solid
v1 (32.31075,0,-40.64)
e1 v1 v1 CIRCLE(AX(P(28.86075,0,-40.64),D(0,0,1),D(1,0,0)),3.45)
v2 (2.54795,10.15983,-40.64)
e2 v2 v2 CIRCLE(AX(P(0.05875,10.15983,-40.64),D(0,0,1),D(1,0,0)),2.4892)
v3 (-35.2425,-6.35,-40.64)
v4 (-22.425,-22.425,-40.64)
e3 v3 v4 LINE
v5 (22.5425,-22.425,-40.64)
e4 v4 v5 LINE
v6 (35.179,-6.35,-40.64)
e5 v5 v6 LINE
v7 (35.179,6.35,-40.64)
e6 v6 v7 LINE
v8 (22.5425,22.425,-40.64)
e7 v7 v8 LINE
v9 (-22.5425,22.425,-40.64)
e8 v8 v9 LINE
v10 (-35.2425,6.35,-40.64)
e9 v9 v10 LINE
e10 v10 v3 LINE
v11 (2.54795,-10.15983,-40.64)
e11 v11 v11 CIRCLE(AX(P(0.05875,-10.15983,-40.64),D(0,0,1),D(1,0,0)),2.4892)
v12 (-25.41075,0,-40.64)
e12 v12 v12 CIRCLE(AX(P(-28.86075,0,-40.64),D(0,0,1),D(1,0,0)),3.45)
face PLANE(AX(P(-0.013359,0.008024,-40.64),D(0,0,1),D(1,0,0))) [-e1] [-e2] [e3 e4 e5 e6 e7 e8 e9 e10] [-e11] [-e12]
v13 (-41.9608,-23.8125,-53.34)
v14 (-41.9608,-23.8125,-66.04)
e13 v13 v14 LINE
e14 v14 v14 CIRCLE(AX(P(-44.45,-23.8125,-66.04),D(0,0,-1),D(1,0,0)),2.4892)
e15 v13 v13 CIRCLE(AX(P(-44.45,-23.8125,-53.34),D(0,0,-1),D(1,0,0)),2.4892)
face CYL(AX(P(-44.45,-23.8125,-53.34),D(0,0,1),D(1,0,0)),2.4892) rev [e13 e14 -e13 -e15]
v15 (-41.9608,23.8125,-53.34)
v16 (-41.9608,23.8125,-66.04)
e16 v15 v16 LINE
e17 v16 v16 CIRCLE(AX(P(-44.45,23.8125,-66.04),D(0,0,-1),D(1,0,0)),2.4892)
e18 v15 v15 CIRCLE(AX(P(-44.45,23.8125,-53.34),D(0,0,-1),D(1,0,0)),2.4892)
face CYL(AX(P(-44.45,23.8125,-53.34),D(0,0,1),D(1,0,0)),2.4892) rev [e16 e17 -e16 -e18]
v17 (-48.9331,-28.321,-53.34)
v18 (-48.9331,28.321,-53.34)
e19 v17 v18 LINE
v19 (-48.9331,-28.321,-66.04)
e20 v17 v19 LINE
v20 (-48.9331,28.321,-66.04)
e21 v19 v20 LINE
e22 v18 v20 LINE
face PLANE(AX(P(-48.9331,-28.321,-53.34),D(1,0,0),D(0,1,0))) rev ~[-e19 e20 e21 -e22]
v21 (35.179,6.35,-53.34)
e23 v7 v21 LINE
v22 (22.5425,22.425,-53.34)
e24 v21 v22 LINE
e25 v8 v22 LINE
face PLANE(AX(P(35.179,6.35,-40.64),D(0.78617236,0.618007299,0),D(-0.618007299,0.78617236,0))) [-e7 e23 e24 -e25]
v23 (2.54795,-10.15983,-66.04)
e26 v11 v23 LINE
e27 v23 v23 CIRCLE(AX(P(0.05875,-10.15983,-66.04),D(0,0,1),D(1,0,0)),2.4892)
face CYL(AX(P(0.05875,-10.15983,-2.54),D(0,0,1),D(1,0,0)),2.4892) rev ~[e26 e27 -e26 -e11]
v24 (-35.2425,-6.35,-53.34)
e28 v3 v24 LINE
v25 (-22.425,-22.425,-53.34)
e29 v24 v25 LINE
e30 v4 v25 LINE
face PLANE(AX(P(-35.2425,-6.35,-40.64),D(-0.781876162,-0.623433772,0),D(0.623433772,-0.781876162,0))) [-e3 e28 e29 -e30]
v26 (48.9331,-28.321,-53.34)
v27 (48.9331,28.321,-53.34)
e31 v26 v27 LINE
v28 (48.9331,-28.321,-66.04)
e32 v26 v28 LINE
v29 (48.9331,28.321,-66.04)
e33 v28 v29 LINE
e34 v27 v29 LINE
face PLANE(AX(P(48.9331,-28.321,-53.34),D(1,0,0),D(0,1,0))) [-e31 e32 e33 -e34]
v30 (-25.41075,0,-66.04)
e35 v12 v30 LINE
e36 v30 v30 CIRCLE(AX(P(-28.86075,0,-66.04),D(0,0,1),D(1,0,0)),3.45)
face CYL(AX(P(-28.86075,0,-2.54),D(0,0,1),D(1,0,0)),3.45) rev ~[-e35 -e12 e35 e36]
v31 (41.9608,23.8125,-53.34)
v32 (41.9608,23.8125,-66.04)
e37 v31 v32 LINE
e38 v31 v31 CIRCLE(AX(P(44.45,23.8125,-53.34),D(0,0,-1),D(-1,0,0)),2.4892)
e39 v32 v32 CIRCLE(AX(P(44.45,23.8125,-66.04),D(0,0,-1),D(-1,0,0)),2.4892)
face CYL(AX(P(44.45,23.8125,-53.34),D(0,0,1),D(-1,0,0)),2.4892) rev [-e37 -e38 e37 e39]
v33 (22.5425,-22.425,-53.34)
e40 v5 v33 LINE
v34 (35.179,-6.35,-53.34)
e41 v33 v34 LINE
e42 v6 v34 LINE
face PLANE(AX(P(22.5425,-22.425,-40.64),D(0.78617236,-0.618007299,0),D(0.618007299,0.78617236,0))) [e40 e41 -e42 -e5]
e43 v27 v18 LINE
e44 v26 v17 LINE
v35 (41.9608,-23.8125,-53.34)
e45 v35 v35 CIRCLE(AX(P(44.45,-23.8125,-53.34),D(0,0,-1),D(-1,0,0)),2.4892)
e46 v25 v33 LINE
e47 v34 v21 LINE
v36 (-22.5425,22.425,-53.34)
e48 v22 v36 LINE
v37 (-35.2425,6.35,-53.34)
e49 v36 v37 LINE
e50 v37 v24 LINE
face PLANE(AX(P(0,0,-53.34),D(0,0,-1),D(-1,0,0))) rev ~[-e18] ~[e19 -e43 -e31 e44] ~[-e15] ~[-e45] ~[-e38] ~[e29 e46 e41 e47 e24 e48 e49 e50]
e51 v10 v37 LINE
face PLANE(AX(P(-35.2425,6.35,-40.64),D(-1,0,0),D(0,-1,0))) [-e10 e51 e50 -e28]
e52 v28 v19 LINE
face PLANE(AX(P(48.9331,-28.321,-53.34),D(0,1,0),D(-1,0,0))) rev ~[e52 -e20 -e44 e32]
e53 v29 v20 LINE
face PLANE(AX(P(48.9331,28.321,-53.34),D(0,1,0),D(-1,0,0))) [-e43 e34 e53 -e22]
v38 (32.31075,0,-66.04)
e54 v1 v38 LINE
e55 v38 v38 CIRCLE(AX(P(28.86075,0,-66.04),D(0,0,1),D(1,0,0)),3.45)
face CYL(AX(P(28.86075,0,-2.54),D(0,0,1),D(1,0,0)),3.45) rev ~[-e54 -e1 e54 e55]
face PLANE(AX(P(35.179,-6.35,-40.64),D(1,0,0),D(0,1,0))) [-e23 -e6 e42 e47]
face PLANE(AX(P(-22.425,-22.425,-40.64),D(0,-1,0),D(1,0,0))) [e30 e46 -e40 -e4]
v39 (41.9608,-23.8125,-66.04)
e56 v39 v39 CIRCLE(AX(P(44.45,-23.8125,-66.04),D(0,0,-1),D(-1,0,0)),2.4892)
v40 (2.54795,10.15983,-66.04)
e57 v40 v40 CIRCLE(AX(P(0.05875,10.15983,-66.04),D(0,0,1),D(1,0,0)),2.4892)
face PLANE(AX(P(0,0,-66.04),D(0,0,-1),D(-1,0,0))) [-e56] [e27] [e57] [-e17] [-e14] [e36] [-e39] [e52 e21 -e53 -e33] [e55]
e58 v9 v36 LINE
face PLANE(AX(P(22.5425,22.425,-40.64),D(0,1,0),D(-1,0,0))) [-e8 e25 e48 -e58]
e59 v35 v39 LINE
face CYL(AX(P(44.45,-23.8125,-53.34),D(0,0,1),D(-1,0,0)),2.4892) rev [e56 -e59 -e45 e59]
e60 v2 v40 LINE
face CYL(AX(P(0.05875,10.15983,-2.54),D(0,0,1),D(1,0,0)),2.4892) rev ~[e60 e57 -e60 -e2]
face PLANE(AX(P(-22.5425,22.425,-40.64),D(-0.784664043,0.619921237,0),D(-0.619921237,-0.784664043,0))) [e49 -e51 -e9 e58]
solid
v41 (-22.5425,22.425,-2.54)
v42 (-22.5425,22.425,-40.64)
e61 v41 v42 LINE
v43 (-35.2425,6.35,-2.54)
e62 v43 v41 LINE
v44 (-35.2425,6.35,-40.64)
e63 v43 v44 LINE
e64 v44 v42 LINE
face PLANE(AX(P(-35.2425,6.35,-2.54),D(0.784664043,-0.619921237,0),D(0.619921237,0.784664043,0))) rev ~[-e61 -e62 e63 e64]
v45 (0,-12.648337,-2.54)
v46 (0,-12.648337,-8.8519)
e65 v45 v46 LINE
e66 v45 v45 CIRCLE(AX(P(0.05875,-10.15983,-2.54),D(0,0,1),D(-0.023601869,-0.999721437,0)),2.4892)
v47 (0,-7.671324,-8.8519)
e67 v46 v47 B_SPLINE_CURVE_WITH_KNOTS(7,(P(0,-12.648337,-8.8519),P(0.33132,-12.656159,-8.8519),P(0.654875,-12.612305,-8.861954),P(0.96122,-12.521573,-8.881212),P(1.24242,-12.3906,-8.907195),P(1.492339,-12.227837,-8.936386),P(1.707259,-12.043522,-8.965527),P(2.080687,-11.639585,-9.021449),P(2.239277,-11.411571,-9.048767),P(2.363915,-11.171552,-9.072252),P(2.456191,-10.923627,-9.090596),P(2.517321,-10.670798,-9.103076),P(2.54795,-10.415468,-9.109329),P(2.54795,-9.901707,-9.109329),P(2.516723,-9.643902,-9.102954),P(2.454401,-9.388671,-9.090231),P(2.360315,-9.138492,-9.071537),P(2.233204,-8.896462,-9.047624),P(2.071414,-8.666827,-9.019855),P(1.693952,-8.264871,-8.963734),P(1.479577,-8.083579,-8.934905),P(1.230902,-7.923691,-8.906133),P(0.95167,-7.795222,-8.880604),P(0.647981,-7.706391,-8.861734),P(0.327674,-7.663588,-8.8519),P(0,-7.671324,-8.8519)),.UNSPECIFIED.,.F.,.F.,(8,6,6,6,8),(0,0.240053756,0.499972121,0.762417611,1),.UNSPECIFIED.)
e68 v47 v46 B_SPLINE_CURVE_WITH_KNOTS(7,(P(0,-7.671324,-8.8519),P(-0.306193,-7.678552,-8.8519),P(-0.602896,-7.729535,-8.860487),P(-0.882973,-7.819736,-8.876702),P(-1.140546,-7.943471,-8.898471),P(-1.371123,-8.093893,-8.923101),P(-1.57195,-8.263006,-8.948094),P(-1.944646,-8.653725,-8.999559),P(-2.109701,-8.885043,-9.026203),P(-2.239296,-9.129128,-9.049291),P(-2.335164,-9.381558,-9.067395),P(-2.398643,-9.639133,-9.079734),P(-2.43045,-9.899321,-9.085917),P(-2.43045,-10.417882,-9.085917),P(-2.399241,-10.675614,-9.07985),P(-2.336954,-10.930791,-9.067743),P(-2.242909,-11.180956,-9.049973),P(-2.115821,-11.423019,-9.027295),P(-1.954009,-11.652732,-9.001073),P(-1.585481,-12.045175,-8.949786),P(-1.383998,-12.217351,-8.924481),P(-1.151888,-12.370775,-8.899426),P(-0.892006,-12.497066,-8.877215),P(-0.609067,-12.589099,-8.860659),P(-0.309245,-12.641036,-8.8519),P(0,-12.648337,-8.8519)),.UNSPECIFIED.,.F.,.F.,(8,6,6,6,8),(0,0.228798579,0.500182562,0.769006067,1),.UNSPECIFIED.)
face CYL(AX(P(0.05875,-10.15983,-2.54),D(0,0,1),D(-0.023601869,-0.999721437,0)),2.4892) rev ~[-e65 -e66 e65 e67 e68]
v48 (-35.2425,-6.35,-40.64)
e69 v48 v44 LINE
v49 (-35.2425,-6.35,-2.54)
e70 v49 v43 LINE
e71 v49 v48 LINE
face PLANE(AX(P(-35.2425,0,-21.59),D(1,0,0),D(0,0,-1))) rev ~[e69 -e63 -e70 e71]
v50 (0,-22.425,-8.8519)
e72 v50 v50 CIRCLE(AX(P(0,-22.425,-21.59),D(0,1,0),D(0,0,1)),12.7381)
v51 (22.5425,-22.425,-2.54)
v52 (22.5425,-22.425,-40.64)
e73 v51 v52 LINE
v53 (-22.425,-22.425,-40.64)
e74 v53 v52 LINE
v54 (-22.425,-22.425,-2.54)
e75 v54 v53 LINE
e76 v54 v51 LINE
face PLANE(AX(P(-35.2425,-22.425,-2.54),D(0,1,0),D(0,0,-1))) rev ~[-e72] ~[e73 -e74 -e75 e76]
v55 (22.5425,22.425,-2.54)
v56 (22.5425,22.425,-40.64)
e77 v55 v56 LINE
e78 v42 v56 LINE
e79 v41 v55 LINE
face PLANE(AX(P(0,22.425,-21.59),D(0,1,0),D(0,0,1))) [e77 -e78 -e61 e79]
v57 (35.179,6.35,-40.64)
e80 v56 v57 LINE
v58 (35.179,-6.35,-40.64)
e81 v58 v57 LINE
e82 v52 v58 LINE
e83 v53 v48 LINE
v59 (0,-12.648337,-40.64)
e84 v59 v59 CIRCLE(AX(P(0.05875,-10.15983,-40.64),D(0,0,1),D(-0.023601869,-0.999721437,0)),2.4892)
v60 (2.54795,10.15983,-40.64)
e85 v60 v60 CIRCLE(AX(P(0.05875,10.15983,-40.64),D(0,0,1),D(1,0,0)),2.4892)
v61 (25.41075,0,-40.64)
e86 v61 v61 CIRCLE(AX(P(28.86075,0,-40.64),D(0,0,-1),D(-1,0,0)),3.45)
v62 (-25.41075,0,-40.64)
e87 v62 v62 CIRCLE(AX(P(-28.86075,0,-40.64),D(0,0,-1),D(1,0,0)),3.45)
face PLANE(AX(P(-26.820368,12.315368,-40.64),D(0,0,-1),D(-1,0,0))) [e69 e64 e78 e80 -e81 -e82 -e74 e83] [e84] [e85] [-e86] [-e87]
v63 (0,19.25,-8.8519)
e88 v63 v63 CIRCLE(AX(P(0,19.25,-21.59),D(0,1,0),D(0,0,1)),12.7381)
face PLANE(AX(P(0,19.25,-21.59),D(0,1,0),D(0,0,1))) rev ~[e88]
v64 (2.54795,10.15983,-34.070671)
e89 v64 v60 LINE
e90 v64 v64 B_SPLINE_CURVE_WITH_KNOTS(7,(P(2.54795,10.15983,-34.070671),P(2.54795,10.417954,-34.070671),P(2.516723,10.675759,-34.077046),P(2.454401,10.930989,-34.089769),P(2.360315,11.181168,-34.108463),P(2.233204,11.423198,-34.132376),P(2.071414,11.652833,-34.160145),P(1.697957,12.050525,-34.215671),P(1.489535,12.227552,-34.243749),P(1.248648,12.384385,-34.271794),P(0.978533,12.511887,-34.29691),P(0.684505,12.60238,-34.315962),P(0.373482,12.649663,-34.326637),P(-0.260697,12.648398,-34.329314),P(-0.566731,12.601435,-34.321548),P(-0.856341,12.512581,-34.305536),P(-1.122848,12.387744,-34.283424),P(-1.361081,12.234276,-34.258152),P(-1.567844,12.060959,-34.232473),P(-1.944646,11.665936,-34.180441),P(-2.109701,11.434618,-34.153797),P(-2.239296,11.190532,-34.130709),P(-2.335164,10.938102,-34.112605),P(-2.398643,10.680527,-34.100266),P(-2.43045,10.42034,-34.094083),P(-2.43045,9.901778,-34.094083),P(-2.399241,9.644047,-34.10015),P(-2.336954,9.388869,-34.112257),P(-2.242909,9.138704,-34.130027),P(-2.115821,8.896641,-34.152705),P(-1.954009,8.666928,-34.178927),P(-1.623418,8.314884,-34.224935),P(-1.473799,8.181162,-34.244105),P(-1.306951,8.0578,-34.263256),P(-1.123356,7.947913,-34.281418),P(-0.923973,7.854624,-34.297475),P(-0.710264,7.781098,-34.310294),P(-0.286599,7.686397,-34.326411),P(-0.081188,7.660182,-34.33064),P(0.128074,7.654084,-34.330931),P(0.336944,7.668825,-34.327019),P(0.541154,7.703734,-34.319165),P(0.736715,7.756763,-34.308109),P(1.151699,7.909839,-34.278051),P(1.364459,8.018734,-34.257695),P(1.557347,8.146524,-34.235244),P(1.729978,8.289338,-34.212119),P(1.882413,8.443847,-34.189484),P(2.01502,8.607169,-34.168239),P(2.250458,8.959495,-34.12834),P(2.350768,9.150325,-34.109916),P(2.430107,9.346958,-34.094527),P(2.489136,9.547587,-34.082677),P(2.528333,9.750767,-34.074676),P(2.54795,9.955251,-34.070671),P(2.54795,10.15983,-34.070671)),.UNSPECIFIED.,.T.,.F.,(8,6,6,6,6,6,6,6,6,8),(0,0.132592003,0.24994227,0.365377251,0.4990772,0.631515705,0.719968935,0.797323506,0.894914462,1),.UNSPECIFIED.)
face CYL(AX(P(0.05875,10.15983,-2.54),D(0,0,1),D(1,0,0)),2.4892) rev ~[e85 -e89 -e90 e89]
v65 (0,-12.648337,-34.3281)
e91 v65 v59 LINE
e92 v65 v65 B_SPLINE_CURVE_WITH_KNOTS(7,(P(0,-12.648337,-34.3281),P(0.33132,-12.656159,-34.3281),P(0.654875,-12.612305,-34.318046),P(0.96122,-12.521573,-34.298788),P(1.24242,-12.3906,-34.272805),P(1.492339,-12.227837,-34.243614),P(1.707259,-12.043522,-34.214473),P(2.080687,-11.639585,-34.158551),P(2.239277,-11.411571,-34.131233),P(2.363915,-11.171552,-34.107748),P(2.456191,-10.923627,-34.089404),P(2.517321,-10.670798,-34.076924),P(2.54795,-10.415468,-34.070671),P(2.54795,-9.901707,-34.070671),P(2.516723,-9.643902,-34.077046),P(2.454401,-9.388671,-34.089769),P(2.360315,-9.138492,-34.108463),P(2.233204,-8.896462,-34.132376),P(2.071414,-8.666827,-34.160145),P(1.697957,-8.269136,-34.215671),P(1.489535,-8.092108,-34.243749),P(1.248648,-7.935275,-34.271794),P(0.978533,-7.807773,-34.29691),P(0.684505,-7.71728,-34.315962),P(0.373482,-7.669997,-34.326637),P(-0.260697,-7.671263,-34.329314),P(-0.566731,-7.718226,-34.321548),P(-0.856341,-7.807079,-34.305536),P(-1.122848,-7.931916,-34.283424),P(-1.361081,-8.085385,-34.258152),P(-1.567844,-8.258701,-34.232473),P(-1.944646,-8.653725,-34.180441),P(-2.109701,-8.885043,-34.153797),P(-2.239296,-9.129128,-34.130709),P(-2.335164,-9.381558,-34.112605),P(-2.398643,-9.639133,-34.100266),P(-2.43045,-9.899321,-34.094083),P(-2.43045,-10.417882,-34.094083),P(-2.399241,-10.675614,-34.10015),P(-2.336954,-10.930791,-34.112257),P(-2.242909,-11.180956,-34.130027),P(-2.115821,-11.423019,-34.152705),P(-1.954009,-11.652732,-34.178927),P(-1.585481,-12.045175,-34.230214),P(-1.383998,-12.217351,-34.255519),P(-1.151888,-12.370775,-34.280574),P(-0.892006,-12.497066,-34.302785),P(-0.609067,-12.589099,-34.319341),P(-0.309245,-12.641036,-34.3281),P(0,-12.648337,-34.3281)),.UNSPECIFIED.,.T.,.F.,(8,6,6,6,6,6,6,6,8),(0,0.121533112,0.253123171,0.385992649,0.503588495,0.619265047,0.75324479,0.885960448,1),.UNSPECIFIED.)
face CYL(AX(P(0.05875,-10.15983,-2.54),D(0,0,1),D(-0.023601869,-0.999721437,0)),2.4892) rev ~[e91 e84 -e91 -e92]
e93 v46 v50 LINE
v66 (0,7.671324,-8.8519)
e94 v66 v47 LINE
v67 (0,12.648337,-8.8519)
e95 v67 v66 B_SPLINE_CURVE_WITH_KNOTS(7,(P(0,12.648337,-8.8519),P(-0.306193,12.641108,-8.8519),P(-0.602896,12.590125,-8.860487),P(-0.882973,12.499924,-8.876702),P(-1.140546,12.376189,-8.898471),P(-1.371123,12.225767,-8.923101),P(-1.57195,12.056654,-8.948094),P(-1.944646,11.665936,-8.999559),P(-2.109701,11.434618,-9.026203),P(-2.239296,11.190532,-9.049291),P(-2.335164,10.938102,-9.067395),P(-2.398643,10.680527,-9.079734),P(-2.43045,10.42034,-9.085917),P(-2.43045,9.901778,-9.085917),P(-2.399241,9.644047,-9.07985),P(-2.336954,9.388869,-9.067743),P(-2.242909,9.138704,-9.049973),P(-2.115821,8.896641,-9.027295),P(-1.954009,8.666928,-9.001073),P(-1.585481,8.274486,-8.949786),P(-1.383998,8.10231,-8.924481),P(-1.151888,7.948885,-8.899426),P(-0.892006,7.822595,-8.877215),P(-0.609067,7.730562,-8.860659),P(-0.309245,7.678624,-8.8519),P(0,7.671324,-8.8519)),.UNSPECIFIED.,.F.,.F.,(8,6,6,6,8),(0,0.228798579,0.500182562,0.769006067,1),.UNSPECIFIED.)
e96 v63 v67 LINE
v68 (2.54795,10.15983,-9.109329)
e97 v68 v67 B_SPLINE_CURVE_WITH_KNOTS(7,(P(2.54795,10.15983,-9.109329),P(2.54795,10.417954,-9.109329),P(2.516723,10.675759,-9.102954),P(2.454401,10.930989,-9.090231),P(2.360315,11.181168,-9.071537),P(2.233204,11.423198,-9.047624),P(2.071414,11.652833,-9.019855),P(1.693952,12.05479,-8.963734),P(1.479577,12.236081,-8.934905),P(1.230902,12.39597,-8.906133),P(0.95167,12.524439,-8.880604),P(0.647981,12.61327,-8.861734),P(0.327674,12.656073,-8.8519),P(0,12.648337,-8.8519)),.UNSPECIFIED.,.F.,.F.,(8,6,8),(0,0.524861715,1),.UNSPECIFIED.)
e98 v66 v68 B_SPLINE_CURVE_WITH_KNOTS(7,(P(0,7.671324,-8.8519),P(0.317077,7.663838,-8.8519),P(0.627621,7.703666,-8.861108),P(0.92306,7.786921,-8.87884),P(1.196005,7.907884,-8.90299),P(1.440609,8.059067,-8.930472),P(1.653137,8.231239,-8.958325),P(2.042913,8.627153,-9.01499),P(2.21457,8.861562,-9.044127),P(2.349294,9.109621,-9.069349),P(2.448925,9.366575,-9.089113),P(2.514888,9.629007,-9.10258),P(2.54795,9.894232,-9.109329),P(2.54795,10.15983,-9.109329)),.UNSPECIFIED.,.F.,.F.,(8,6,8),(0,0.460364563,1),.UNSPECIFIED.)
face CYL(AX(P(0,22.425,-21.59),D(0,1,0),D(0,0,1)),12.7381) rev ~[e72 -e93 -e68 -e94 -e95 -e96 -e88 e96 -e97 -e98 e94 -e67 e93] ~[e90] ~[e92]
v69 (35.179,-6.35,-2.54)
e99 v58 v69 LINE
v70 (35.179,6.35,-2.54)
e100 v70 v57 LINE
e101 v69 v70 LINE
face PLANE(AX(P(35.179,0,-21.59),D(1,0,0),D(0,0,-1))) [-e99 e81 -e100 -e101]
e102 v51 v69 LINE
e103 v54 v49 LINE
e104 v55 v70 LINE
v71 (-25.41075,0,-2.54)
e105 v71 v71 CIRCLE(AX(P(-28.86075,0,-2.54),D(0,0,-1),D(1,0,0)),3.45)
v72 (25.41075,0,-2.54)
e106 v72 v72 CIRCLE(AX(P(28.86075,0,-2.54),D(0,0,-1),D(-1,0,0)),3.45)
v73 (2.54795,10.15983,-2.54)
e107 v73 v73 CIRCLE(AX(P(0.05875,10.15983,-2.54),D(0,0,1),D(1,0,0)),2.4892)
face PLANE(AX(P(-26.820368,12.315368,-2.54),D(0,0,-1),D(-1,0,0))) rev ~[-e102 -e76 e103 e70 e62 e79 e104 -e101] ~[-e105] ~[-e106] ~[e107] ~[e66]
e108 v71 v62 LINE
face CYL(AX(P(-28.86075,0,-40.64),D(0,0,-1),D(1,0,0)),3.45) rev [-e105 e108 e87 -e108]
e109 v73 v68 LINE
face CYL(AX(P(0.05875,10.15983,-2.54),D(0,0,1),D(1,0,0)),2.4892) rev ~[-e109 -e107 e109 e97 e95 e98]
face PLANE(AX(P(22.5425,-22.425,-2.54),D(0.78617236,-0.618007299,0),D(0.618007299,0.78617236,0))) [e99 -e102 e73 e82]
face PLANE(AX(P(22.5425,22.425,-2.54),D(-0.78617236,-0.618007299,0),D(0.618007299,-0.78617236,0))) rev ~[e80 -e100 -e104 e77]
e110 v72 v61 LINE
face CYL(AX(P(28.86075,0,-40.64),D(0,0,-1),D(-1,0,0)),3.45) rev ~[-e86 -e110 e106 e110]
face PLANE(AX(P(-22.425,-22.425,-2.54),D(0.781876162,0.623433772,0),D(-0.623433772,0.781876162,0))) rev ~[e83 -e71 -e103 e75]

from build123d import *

# Parameters (mm, degrees)
CROQUIS1_W                   = 38.5
CROQUIS1_H                   = 38.5
CROQUIS1_R                   = 1.631954222
SALIENTE_EXTRUIR1_DEPTH      = 3.175
CROQUIS3_W                   = 45.084999084
CROQUIS3_H                   = 18.415000916
SALIENTE_EXTRUIR3_DEPTH      = 3.175
CROQUIS4_W                   = 18.415000916
CROQUIS4_H                   = 38.5
SALIENTE_EXTRUIR4_DEPTH      = 3.175
SALIENTE_EXTRUIR5_DEPTH      = 3.175
CROQUIS6_W                   = 45.084999084
CROQUIS6_H                   = 18.415000916
SALIENTE_EXTRUIR6_DEPTH      = 3.175
CROQUIS7_W                   = 12.817500305
CROQUIS7_H                   = 12.69999981
CROQUIS7_R                   = 2.4892
SALIENTE_EXTRUIR7_DEPTH      = 18.415001
SALIENTE_EXTRUIR8_DEPTH      = 35.179
SALIENTE_EXTRUIR8_DEPTH_BACK = 35.2425
CROQUIS10_W                  = 38.1
CROQUIS10_H                  = 44.85
CORTAR_EXTRUIR1_DEPTH        = 57.537814361
CROQUIS12_R                  = 12.7381
CORTAR_EXTRUIR2_DEPTH        = 71.036889764
CROQUIS13_R                  = 3.45
CORTAR_EXTRUIR3_DEPTH        = 73.335382738
CROQUIS14_R                  = 12.7381
SALIENTE_EXTRUIR9_DEPTH      = 3.175
CROQUIS15_R                  = 2.4892
CORTAR_EXTRUIR4_DEPTH        = 57.537814361
SALIENTE_EXTRUIR10_DEPTH     = 38.1
SALIENTE_EXTRUIR11_DEPTH     = 12.7
CROQUIS19_W                  = 97.8662
CROQUIS19_H                  = 56.642
CROQUIS19_R                  = 2.4892
SALIENTE_EXTRUIR12_DEPTH     = 12.7
CROQUIS20_R                  = 3.45
CROQUIS20_R_2                = 2.4892
CORTAR_EXTRUIR5_DEPTH        = 86.022216606


with BuildPart() as part:
    # Croquis1 → Saliente-Extruir1 (new body)
    with BuildSketch(Plane.XY):
        Rectangle(CROQUIS1_W, CROQUIS1_H)
        with Locations((-14, 14)):
            Circle(CROQUIS1_R, mode=Mode.SUBTRACT)
        with Locations((14, 14)):
            Circle(CROQUIS1_R, mode=Mode.SUBTRACT)
        with Locations(Location((14, -14, 0), (0, 0, 180))):
            Circle(CROQUIS1_R, mode=Mode.SUBTRACT)
        with Locations(Location((-14, -14, 0), (0, 0, 180))):
            Circle(CROQUIS1_R, mode=Mode.SUBTRACT)
        with BuildLine():
            Line((4.778981922, 6.730999947), (11.112500191, 6.730999947))
            Line((11.112500191, 6.730999947), (11.112500191, -6.730999947))
            Line((11.112500191, -6.730999947), (4.778981922, -6.730999947))
            ThreePointArc((4.778981922, -6.730999947), (0, -8.255000211), (-4.778981922, -6.730999947))
            Line((-4.778981922, -6.730999947), (-11.112500191, -6.730999947))
            Line((-11.112500191, -6.730999947), (-11.112500191, 6.730999947))
            Line((-11.112500191, 6.730999947), (-4.778981922, 6.730999947))
            ThreePointArc((-4.778981922, 6.730999947), (0, 8.255000211), (4.778981922, 6.730999947))
        make_face(mode=Mode.SUBTRACT)
    extrude(amount=SALIENTE_EXTRUIR1_DEPTH)

    # Croquis3 → Saliente-Extruir3 (add)
    with BuildSketch(Plane.XZ.offset(19.25)):
        with Locations((0, 9.207500458)):
            Rectangle(CROQUIS3_W, CROQUIS3_H)
    extrude(amount=SALIENTE_EXTRUIR3_DEPTH)

    # Croquis4 → Saliente-Extruir4 (add)
    with BuildSketch(Plane.ZY.offset(19.25)):
        with Locations((9.207500458, 0)):
            Rectangle(CROQUIS4_W, CROQUIS4_H)
    extrude(amount=SALIENTE_EXTRUIR4_DEPTH)

    # Croquis5 → Saliente-Extruir5 (add)
    with BuildSketch(Plane(origin=(19.25, 0, 0), x_dir=(0, 0, -1), z_dir=(1, 0, 0))):
        with BuildLine():
            Line((-12.617739677, -7.684936523), (-18.415000916, -7.684936523))
            Line((-18.415000916, -7.684936523), (-18.415000916, 19.25))
            Line((-18.415000916, 19.25), (0, 19.25))
            Line((0, 19.25), (0, -19.25))
            Line((0, -19.25), (-18.415000916, -19.25))
            Line((-18.415000916, -19.25), (-18.415000916, -12.304718971))
            Line((-18.415000916, -12.304718971), (-12.348668098, -12.304718971))
            ThreePointArc((-12.348668098, -12.304718971), (-10.544975303, -9.881938833), (-12.617739677, -7.684936523))
        make_face()
    extrude(amount=SALIENTE_EXTRUIR5_DEPTH)

    # Croquis6 → Saliente-Extruir6 (add)
    with BuildSketch(Plane(origin=(0, 19.25, 0), x_dir=(1, 0, 0), z_dir=(0, 1, 0))):
        with Locations((0, -9.207500458)):
            Rectangle(CROQUIS6_W, CROQUIS6_H)
    extrude(amount=SALIENTE_EXTRUIR6_DEPTH)

    # Croquis7 → Saliente-Extruir7 (add)
    # profile 1 of 2: a face of its own
    with BuildSketch(Plane.XY):
        with Locations((-28.833750153, 0)):
            Rectangle(CROQUIS7_W, CROQUIS7_H)
        with Locations((-28.833750153, 0)):
            Circle(CROQUIS7_R, mode=Mode.SUBTRACT)
    # profile 2 of 2: a face of its own
    with BuildSketch(Plane.XY):
        with Locations((28.833750153, 0)):
            Rectangle(CROQUIS7_W, CROQUIS7_H)
        with Locations(Location((28.833750153, 0, 0), (0, 0, 180))):
            Circle(CROQUIS7_R, mode=Mode.SUBTRACT)
    extrude(amount=SALIENTE_EXTRUIR7_DEPTH)


with BuildPart() as body_2:
    # Croquis10 → Saliente-Extruir8 (new, two sides: drawn at the far end of the back side and taken through both)
    with BuildSketch(Plane(origin=(0, 0, 0), x_dir=(0, 0, -1), z_dir=(1, 0, 0)).offset(-SALIENTE_EXTRUIR8_DEPTH_BACK)):
        with Locations((21.59, 0)):
            Rectangle(CROQUIS10_W, CROQUIS10_H)
    extrude(amount=SALIENTE_EXTRUIR8_DEPTH + SALIENTE_EXTRUIR8_DEPTH_BACK)

    # Croquis11 → Cortar-Extruir1 (cut, through all)
    with BuildSketch(Plane.XY.offset(-2.54)):
        Polygon((22.542499542, 22.425), (22.542499542, 6.349999905), (35.242500305, 6.349999905), align=None)
        Polygon((35.242500305, -6.349999905), (22.542499542, -6.349999905), (22.542499542, -22.425), align=None)
        Polygon((-22.542499542, 22.425), (-22.542499542, 6.349999905), (-35.242500305, 6.349999905), align=None)
        Polygon((-35.242500305, -6.349999905), (-22.425, -6.349999905), (-22.425, -22.425), align=None)
    extrude(amount=-CORTAR_EXTRUIR1_DEPTH, mode=Mode.SUBTRACT)


with BuildPart() as cortar_extruir1_piece_1:
    # of the separate pieces the step leaves, piece 1, a body of its own (cortar_extruir1_pieces)
    add(body_2.part.solids().sort_by_distance((-22.425, -6.349999905, -2.54))[0])

    # Croquis12 → Cortar-Extruir2 (cut, through all)
    with BuildSketch(Plane(origin=(0, 22.425, 0), x_dir=(1, 0, 0), z_dir=(0, 1, 0))):
        with Locations(Location((0, 21.59, 0), (0, 0, 270))):
            Circle(CROQUIS12_R)
    extrude(amount=-CORTAR_EXTRUIR2_DEPTH, mode=Mode.SUBTRACT)

    # Croquis13 → Cortar-Extruir3 (cut, symmetric)
    with BuildSketch(Plane(origin=(0, 0, -40.64), x_dir=(-1, 0, 0), z_dir=(0, 0, -1))):
        with Locations((-28.860749771, 0)):
            Circle(CROQUIS13_R)
    cortar_extruir3 = extrude(amount=CORTAR_EXTRUIR3_DEPTH, both=True, mode=Mode.SUBTRACT)

    # Simetría1: Cortar-Extruir3 across plane
    add(cortar_extruir3.mirror(Plane(origin=(0, 0, 0), x_dir=(0, 0, 1), z_dir=(1, 0, 0))), mode=Mode.SUBTRACT)

    # Croquis14 → Saliente-Extruir9 (add)
    with BuildSketch(Plane(origin=(0, 22.425, 0), x_dir=(1, 0, 0), z_dir=(0, 1, 0))):
        with Locations(Location((0, 21.59, 0), (0, 0, 270))):
            Circle(CROQUIS14_R)
    extrude(amount=-SALIENTE_EXTRUIR9_DEPTH)

    # Croquis15 → Cortar-Extruir4 (cut, through all)
    with BuildSketch(Plane.XY.offset(-2.54)):
        with Locations((0.058749771, 10.15983014)):
            Circle(CROQUIS15_R)
        with Locations(Location((0.058749771, -10.15983014, 0), (0, 0, 268.647586966))):
            Circle(CROQUIS15_R)
    extrude(amount=-CORTAR_EXTRUIR4_DEPTH, mode=Mode.SUBTRACT)

    # Croquis17 → Saliente-Extruir10 (add)
    with BuildSketch(Plane.XY.offset(-2.54)):
        Polygon((-35.242500305, 6.349999905), (-22.542499542, 22.425), (-22.542499542, 6.349999905), align=None)
        Polygon((-22.425, -22.425), (-35.242500305, -6.349999905), (-22.425, -6.349999905), align=None)
        Polygon((22.542499542, -22.425), (35.179, -6.349999905), (22.542499542, -6.349999905), align=None)
        Polygon((22.542499542, 22.425), (35.179, 6.349999905), (22.542499542, 6.349999905), align=None)
    extrude(amount=-SALIENTE_EXTRUIR10_DEPTH)


with BuildPart() as cortar_extruir1_piece_2:
    # of the separate pieces the step leaves, piece 2, a body of its own (cortar_extruir1_pieces)
    add(body_2.part.solids().sort_by_distance((-35.2425, -22.425, -40.64))[0])


with BuildPart() as cortar_extruir1_piece_3:
    # of the separate pieces the step leaves, piece 3, a body of its own (cortar_extruir1_pieces)
    add(body_2.part.solids().sort_by_distance((-35.2425, 22.425, -2.54))[0])


with BuildPart() as cortar_extruir1_piece_4:
    # of the separate pieces the step leaves, piece 4, a body of its own (cortar_extruir1_pieces)
    add(body_2.part.solids().sort_by_distance((35.179, 22.425, -2.54))[0])


with BuildPart() as cortar_extruir1_piece_5:
    # of the separate pieces the step leaves, piece 5, a body of its own (cortar_extruir1_pieces)
    add(body_2.part.solids().sort_by_distance((35.179, -22.425, -40.64))[0])


with BuildPart() as body_2_2:
    # Croquis18 → Saliente-Extruir11 (new body)
    with BuildSketch(Plane(origin=(0, 0, -40.64), x_dir=(-1, 0, 0), z_dir=(0, 0, -1))):
        Polygon((-22.542499542, 22.425), (22.542499542, 22.425), (35.242500305, 6.349999905), (35.242500305, -6.349999905), (22.425, -22.425), (-22.542499542, -22.425), (-35.179, -6.349999905), (-35.179, 6.349999905), align=None)
    extrude(amount=SALIENTE_EXTRUIR11_DEPTH)

    # Croquis19 → Saliente-Extruir12 (add)
    with BuildSketch(Plane(origin=(0, 0, -53.34), x_dir=(-1, 0, 0), z_dir=(0, 0, -1))):
        Rectangle(CROQUIS19_W, CROQUIS19_H)
        with Locations((-44.45, 23.8125)):
            Circle(CROQUIS19_R, mode=Mode.SUBTRACT)
        with Locations((-44.45, -23.8125)):
            Circle(CROQUIS19_R, mode=Mode.SUBTRACT)
        with Locations(Location((44.45, -23.8125, 0), (0, 0, 180))):
            Circle(CROQUIS19_R, mode=Mode.SUBTRACT)
        with Locations(Location((44.45, 23.8125, 0), (0, 0, 180))):
            Circle(CROQUIS19_R, mode=Mode.SUBTRACT)
    extrude(amount=SALIENTE_EXTRUIR12_DEPTH)

    # Croquis20 → Cortar-Extruir5 (cut, through all)
    with BuildSketch(Plane.XY.offset(-2.54)):
        with Locations((28.860749771, 0)):
            Circle(CROQUIS20_R)
        with Locations((0.058749771, -10.15983014)):
            Circle(CROQUIS20_R_2)
        with Locations((-28.860749771, 0)):
            Circle(CROQUIS20_R)
        with Locations((0.058749771, 10.15983014)):
            Circle(CROQUIS20_R_2)
    extrude(amount=-CORTAR_EXTRUIR5_DEPTH, mode=Mode.SUBTRACT)


solid = Compound([cortar_extruir1_piece_1.part, body_2_2.part])
